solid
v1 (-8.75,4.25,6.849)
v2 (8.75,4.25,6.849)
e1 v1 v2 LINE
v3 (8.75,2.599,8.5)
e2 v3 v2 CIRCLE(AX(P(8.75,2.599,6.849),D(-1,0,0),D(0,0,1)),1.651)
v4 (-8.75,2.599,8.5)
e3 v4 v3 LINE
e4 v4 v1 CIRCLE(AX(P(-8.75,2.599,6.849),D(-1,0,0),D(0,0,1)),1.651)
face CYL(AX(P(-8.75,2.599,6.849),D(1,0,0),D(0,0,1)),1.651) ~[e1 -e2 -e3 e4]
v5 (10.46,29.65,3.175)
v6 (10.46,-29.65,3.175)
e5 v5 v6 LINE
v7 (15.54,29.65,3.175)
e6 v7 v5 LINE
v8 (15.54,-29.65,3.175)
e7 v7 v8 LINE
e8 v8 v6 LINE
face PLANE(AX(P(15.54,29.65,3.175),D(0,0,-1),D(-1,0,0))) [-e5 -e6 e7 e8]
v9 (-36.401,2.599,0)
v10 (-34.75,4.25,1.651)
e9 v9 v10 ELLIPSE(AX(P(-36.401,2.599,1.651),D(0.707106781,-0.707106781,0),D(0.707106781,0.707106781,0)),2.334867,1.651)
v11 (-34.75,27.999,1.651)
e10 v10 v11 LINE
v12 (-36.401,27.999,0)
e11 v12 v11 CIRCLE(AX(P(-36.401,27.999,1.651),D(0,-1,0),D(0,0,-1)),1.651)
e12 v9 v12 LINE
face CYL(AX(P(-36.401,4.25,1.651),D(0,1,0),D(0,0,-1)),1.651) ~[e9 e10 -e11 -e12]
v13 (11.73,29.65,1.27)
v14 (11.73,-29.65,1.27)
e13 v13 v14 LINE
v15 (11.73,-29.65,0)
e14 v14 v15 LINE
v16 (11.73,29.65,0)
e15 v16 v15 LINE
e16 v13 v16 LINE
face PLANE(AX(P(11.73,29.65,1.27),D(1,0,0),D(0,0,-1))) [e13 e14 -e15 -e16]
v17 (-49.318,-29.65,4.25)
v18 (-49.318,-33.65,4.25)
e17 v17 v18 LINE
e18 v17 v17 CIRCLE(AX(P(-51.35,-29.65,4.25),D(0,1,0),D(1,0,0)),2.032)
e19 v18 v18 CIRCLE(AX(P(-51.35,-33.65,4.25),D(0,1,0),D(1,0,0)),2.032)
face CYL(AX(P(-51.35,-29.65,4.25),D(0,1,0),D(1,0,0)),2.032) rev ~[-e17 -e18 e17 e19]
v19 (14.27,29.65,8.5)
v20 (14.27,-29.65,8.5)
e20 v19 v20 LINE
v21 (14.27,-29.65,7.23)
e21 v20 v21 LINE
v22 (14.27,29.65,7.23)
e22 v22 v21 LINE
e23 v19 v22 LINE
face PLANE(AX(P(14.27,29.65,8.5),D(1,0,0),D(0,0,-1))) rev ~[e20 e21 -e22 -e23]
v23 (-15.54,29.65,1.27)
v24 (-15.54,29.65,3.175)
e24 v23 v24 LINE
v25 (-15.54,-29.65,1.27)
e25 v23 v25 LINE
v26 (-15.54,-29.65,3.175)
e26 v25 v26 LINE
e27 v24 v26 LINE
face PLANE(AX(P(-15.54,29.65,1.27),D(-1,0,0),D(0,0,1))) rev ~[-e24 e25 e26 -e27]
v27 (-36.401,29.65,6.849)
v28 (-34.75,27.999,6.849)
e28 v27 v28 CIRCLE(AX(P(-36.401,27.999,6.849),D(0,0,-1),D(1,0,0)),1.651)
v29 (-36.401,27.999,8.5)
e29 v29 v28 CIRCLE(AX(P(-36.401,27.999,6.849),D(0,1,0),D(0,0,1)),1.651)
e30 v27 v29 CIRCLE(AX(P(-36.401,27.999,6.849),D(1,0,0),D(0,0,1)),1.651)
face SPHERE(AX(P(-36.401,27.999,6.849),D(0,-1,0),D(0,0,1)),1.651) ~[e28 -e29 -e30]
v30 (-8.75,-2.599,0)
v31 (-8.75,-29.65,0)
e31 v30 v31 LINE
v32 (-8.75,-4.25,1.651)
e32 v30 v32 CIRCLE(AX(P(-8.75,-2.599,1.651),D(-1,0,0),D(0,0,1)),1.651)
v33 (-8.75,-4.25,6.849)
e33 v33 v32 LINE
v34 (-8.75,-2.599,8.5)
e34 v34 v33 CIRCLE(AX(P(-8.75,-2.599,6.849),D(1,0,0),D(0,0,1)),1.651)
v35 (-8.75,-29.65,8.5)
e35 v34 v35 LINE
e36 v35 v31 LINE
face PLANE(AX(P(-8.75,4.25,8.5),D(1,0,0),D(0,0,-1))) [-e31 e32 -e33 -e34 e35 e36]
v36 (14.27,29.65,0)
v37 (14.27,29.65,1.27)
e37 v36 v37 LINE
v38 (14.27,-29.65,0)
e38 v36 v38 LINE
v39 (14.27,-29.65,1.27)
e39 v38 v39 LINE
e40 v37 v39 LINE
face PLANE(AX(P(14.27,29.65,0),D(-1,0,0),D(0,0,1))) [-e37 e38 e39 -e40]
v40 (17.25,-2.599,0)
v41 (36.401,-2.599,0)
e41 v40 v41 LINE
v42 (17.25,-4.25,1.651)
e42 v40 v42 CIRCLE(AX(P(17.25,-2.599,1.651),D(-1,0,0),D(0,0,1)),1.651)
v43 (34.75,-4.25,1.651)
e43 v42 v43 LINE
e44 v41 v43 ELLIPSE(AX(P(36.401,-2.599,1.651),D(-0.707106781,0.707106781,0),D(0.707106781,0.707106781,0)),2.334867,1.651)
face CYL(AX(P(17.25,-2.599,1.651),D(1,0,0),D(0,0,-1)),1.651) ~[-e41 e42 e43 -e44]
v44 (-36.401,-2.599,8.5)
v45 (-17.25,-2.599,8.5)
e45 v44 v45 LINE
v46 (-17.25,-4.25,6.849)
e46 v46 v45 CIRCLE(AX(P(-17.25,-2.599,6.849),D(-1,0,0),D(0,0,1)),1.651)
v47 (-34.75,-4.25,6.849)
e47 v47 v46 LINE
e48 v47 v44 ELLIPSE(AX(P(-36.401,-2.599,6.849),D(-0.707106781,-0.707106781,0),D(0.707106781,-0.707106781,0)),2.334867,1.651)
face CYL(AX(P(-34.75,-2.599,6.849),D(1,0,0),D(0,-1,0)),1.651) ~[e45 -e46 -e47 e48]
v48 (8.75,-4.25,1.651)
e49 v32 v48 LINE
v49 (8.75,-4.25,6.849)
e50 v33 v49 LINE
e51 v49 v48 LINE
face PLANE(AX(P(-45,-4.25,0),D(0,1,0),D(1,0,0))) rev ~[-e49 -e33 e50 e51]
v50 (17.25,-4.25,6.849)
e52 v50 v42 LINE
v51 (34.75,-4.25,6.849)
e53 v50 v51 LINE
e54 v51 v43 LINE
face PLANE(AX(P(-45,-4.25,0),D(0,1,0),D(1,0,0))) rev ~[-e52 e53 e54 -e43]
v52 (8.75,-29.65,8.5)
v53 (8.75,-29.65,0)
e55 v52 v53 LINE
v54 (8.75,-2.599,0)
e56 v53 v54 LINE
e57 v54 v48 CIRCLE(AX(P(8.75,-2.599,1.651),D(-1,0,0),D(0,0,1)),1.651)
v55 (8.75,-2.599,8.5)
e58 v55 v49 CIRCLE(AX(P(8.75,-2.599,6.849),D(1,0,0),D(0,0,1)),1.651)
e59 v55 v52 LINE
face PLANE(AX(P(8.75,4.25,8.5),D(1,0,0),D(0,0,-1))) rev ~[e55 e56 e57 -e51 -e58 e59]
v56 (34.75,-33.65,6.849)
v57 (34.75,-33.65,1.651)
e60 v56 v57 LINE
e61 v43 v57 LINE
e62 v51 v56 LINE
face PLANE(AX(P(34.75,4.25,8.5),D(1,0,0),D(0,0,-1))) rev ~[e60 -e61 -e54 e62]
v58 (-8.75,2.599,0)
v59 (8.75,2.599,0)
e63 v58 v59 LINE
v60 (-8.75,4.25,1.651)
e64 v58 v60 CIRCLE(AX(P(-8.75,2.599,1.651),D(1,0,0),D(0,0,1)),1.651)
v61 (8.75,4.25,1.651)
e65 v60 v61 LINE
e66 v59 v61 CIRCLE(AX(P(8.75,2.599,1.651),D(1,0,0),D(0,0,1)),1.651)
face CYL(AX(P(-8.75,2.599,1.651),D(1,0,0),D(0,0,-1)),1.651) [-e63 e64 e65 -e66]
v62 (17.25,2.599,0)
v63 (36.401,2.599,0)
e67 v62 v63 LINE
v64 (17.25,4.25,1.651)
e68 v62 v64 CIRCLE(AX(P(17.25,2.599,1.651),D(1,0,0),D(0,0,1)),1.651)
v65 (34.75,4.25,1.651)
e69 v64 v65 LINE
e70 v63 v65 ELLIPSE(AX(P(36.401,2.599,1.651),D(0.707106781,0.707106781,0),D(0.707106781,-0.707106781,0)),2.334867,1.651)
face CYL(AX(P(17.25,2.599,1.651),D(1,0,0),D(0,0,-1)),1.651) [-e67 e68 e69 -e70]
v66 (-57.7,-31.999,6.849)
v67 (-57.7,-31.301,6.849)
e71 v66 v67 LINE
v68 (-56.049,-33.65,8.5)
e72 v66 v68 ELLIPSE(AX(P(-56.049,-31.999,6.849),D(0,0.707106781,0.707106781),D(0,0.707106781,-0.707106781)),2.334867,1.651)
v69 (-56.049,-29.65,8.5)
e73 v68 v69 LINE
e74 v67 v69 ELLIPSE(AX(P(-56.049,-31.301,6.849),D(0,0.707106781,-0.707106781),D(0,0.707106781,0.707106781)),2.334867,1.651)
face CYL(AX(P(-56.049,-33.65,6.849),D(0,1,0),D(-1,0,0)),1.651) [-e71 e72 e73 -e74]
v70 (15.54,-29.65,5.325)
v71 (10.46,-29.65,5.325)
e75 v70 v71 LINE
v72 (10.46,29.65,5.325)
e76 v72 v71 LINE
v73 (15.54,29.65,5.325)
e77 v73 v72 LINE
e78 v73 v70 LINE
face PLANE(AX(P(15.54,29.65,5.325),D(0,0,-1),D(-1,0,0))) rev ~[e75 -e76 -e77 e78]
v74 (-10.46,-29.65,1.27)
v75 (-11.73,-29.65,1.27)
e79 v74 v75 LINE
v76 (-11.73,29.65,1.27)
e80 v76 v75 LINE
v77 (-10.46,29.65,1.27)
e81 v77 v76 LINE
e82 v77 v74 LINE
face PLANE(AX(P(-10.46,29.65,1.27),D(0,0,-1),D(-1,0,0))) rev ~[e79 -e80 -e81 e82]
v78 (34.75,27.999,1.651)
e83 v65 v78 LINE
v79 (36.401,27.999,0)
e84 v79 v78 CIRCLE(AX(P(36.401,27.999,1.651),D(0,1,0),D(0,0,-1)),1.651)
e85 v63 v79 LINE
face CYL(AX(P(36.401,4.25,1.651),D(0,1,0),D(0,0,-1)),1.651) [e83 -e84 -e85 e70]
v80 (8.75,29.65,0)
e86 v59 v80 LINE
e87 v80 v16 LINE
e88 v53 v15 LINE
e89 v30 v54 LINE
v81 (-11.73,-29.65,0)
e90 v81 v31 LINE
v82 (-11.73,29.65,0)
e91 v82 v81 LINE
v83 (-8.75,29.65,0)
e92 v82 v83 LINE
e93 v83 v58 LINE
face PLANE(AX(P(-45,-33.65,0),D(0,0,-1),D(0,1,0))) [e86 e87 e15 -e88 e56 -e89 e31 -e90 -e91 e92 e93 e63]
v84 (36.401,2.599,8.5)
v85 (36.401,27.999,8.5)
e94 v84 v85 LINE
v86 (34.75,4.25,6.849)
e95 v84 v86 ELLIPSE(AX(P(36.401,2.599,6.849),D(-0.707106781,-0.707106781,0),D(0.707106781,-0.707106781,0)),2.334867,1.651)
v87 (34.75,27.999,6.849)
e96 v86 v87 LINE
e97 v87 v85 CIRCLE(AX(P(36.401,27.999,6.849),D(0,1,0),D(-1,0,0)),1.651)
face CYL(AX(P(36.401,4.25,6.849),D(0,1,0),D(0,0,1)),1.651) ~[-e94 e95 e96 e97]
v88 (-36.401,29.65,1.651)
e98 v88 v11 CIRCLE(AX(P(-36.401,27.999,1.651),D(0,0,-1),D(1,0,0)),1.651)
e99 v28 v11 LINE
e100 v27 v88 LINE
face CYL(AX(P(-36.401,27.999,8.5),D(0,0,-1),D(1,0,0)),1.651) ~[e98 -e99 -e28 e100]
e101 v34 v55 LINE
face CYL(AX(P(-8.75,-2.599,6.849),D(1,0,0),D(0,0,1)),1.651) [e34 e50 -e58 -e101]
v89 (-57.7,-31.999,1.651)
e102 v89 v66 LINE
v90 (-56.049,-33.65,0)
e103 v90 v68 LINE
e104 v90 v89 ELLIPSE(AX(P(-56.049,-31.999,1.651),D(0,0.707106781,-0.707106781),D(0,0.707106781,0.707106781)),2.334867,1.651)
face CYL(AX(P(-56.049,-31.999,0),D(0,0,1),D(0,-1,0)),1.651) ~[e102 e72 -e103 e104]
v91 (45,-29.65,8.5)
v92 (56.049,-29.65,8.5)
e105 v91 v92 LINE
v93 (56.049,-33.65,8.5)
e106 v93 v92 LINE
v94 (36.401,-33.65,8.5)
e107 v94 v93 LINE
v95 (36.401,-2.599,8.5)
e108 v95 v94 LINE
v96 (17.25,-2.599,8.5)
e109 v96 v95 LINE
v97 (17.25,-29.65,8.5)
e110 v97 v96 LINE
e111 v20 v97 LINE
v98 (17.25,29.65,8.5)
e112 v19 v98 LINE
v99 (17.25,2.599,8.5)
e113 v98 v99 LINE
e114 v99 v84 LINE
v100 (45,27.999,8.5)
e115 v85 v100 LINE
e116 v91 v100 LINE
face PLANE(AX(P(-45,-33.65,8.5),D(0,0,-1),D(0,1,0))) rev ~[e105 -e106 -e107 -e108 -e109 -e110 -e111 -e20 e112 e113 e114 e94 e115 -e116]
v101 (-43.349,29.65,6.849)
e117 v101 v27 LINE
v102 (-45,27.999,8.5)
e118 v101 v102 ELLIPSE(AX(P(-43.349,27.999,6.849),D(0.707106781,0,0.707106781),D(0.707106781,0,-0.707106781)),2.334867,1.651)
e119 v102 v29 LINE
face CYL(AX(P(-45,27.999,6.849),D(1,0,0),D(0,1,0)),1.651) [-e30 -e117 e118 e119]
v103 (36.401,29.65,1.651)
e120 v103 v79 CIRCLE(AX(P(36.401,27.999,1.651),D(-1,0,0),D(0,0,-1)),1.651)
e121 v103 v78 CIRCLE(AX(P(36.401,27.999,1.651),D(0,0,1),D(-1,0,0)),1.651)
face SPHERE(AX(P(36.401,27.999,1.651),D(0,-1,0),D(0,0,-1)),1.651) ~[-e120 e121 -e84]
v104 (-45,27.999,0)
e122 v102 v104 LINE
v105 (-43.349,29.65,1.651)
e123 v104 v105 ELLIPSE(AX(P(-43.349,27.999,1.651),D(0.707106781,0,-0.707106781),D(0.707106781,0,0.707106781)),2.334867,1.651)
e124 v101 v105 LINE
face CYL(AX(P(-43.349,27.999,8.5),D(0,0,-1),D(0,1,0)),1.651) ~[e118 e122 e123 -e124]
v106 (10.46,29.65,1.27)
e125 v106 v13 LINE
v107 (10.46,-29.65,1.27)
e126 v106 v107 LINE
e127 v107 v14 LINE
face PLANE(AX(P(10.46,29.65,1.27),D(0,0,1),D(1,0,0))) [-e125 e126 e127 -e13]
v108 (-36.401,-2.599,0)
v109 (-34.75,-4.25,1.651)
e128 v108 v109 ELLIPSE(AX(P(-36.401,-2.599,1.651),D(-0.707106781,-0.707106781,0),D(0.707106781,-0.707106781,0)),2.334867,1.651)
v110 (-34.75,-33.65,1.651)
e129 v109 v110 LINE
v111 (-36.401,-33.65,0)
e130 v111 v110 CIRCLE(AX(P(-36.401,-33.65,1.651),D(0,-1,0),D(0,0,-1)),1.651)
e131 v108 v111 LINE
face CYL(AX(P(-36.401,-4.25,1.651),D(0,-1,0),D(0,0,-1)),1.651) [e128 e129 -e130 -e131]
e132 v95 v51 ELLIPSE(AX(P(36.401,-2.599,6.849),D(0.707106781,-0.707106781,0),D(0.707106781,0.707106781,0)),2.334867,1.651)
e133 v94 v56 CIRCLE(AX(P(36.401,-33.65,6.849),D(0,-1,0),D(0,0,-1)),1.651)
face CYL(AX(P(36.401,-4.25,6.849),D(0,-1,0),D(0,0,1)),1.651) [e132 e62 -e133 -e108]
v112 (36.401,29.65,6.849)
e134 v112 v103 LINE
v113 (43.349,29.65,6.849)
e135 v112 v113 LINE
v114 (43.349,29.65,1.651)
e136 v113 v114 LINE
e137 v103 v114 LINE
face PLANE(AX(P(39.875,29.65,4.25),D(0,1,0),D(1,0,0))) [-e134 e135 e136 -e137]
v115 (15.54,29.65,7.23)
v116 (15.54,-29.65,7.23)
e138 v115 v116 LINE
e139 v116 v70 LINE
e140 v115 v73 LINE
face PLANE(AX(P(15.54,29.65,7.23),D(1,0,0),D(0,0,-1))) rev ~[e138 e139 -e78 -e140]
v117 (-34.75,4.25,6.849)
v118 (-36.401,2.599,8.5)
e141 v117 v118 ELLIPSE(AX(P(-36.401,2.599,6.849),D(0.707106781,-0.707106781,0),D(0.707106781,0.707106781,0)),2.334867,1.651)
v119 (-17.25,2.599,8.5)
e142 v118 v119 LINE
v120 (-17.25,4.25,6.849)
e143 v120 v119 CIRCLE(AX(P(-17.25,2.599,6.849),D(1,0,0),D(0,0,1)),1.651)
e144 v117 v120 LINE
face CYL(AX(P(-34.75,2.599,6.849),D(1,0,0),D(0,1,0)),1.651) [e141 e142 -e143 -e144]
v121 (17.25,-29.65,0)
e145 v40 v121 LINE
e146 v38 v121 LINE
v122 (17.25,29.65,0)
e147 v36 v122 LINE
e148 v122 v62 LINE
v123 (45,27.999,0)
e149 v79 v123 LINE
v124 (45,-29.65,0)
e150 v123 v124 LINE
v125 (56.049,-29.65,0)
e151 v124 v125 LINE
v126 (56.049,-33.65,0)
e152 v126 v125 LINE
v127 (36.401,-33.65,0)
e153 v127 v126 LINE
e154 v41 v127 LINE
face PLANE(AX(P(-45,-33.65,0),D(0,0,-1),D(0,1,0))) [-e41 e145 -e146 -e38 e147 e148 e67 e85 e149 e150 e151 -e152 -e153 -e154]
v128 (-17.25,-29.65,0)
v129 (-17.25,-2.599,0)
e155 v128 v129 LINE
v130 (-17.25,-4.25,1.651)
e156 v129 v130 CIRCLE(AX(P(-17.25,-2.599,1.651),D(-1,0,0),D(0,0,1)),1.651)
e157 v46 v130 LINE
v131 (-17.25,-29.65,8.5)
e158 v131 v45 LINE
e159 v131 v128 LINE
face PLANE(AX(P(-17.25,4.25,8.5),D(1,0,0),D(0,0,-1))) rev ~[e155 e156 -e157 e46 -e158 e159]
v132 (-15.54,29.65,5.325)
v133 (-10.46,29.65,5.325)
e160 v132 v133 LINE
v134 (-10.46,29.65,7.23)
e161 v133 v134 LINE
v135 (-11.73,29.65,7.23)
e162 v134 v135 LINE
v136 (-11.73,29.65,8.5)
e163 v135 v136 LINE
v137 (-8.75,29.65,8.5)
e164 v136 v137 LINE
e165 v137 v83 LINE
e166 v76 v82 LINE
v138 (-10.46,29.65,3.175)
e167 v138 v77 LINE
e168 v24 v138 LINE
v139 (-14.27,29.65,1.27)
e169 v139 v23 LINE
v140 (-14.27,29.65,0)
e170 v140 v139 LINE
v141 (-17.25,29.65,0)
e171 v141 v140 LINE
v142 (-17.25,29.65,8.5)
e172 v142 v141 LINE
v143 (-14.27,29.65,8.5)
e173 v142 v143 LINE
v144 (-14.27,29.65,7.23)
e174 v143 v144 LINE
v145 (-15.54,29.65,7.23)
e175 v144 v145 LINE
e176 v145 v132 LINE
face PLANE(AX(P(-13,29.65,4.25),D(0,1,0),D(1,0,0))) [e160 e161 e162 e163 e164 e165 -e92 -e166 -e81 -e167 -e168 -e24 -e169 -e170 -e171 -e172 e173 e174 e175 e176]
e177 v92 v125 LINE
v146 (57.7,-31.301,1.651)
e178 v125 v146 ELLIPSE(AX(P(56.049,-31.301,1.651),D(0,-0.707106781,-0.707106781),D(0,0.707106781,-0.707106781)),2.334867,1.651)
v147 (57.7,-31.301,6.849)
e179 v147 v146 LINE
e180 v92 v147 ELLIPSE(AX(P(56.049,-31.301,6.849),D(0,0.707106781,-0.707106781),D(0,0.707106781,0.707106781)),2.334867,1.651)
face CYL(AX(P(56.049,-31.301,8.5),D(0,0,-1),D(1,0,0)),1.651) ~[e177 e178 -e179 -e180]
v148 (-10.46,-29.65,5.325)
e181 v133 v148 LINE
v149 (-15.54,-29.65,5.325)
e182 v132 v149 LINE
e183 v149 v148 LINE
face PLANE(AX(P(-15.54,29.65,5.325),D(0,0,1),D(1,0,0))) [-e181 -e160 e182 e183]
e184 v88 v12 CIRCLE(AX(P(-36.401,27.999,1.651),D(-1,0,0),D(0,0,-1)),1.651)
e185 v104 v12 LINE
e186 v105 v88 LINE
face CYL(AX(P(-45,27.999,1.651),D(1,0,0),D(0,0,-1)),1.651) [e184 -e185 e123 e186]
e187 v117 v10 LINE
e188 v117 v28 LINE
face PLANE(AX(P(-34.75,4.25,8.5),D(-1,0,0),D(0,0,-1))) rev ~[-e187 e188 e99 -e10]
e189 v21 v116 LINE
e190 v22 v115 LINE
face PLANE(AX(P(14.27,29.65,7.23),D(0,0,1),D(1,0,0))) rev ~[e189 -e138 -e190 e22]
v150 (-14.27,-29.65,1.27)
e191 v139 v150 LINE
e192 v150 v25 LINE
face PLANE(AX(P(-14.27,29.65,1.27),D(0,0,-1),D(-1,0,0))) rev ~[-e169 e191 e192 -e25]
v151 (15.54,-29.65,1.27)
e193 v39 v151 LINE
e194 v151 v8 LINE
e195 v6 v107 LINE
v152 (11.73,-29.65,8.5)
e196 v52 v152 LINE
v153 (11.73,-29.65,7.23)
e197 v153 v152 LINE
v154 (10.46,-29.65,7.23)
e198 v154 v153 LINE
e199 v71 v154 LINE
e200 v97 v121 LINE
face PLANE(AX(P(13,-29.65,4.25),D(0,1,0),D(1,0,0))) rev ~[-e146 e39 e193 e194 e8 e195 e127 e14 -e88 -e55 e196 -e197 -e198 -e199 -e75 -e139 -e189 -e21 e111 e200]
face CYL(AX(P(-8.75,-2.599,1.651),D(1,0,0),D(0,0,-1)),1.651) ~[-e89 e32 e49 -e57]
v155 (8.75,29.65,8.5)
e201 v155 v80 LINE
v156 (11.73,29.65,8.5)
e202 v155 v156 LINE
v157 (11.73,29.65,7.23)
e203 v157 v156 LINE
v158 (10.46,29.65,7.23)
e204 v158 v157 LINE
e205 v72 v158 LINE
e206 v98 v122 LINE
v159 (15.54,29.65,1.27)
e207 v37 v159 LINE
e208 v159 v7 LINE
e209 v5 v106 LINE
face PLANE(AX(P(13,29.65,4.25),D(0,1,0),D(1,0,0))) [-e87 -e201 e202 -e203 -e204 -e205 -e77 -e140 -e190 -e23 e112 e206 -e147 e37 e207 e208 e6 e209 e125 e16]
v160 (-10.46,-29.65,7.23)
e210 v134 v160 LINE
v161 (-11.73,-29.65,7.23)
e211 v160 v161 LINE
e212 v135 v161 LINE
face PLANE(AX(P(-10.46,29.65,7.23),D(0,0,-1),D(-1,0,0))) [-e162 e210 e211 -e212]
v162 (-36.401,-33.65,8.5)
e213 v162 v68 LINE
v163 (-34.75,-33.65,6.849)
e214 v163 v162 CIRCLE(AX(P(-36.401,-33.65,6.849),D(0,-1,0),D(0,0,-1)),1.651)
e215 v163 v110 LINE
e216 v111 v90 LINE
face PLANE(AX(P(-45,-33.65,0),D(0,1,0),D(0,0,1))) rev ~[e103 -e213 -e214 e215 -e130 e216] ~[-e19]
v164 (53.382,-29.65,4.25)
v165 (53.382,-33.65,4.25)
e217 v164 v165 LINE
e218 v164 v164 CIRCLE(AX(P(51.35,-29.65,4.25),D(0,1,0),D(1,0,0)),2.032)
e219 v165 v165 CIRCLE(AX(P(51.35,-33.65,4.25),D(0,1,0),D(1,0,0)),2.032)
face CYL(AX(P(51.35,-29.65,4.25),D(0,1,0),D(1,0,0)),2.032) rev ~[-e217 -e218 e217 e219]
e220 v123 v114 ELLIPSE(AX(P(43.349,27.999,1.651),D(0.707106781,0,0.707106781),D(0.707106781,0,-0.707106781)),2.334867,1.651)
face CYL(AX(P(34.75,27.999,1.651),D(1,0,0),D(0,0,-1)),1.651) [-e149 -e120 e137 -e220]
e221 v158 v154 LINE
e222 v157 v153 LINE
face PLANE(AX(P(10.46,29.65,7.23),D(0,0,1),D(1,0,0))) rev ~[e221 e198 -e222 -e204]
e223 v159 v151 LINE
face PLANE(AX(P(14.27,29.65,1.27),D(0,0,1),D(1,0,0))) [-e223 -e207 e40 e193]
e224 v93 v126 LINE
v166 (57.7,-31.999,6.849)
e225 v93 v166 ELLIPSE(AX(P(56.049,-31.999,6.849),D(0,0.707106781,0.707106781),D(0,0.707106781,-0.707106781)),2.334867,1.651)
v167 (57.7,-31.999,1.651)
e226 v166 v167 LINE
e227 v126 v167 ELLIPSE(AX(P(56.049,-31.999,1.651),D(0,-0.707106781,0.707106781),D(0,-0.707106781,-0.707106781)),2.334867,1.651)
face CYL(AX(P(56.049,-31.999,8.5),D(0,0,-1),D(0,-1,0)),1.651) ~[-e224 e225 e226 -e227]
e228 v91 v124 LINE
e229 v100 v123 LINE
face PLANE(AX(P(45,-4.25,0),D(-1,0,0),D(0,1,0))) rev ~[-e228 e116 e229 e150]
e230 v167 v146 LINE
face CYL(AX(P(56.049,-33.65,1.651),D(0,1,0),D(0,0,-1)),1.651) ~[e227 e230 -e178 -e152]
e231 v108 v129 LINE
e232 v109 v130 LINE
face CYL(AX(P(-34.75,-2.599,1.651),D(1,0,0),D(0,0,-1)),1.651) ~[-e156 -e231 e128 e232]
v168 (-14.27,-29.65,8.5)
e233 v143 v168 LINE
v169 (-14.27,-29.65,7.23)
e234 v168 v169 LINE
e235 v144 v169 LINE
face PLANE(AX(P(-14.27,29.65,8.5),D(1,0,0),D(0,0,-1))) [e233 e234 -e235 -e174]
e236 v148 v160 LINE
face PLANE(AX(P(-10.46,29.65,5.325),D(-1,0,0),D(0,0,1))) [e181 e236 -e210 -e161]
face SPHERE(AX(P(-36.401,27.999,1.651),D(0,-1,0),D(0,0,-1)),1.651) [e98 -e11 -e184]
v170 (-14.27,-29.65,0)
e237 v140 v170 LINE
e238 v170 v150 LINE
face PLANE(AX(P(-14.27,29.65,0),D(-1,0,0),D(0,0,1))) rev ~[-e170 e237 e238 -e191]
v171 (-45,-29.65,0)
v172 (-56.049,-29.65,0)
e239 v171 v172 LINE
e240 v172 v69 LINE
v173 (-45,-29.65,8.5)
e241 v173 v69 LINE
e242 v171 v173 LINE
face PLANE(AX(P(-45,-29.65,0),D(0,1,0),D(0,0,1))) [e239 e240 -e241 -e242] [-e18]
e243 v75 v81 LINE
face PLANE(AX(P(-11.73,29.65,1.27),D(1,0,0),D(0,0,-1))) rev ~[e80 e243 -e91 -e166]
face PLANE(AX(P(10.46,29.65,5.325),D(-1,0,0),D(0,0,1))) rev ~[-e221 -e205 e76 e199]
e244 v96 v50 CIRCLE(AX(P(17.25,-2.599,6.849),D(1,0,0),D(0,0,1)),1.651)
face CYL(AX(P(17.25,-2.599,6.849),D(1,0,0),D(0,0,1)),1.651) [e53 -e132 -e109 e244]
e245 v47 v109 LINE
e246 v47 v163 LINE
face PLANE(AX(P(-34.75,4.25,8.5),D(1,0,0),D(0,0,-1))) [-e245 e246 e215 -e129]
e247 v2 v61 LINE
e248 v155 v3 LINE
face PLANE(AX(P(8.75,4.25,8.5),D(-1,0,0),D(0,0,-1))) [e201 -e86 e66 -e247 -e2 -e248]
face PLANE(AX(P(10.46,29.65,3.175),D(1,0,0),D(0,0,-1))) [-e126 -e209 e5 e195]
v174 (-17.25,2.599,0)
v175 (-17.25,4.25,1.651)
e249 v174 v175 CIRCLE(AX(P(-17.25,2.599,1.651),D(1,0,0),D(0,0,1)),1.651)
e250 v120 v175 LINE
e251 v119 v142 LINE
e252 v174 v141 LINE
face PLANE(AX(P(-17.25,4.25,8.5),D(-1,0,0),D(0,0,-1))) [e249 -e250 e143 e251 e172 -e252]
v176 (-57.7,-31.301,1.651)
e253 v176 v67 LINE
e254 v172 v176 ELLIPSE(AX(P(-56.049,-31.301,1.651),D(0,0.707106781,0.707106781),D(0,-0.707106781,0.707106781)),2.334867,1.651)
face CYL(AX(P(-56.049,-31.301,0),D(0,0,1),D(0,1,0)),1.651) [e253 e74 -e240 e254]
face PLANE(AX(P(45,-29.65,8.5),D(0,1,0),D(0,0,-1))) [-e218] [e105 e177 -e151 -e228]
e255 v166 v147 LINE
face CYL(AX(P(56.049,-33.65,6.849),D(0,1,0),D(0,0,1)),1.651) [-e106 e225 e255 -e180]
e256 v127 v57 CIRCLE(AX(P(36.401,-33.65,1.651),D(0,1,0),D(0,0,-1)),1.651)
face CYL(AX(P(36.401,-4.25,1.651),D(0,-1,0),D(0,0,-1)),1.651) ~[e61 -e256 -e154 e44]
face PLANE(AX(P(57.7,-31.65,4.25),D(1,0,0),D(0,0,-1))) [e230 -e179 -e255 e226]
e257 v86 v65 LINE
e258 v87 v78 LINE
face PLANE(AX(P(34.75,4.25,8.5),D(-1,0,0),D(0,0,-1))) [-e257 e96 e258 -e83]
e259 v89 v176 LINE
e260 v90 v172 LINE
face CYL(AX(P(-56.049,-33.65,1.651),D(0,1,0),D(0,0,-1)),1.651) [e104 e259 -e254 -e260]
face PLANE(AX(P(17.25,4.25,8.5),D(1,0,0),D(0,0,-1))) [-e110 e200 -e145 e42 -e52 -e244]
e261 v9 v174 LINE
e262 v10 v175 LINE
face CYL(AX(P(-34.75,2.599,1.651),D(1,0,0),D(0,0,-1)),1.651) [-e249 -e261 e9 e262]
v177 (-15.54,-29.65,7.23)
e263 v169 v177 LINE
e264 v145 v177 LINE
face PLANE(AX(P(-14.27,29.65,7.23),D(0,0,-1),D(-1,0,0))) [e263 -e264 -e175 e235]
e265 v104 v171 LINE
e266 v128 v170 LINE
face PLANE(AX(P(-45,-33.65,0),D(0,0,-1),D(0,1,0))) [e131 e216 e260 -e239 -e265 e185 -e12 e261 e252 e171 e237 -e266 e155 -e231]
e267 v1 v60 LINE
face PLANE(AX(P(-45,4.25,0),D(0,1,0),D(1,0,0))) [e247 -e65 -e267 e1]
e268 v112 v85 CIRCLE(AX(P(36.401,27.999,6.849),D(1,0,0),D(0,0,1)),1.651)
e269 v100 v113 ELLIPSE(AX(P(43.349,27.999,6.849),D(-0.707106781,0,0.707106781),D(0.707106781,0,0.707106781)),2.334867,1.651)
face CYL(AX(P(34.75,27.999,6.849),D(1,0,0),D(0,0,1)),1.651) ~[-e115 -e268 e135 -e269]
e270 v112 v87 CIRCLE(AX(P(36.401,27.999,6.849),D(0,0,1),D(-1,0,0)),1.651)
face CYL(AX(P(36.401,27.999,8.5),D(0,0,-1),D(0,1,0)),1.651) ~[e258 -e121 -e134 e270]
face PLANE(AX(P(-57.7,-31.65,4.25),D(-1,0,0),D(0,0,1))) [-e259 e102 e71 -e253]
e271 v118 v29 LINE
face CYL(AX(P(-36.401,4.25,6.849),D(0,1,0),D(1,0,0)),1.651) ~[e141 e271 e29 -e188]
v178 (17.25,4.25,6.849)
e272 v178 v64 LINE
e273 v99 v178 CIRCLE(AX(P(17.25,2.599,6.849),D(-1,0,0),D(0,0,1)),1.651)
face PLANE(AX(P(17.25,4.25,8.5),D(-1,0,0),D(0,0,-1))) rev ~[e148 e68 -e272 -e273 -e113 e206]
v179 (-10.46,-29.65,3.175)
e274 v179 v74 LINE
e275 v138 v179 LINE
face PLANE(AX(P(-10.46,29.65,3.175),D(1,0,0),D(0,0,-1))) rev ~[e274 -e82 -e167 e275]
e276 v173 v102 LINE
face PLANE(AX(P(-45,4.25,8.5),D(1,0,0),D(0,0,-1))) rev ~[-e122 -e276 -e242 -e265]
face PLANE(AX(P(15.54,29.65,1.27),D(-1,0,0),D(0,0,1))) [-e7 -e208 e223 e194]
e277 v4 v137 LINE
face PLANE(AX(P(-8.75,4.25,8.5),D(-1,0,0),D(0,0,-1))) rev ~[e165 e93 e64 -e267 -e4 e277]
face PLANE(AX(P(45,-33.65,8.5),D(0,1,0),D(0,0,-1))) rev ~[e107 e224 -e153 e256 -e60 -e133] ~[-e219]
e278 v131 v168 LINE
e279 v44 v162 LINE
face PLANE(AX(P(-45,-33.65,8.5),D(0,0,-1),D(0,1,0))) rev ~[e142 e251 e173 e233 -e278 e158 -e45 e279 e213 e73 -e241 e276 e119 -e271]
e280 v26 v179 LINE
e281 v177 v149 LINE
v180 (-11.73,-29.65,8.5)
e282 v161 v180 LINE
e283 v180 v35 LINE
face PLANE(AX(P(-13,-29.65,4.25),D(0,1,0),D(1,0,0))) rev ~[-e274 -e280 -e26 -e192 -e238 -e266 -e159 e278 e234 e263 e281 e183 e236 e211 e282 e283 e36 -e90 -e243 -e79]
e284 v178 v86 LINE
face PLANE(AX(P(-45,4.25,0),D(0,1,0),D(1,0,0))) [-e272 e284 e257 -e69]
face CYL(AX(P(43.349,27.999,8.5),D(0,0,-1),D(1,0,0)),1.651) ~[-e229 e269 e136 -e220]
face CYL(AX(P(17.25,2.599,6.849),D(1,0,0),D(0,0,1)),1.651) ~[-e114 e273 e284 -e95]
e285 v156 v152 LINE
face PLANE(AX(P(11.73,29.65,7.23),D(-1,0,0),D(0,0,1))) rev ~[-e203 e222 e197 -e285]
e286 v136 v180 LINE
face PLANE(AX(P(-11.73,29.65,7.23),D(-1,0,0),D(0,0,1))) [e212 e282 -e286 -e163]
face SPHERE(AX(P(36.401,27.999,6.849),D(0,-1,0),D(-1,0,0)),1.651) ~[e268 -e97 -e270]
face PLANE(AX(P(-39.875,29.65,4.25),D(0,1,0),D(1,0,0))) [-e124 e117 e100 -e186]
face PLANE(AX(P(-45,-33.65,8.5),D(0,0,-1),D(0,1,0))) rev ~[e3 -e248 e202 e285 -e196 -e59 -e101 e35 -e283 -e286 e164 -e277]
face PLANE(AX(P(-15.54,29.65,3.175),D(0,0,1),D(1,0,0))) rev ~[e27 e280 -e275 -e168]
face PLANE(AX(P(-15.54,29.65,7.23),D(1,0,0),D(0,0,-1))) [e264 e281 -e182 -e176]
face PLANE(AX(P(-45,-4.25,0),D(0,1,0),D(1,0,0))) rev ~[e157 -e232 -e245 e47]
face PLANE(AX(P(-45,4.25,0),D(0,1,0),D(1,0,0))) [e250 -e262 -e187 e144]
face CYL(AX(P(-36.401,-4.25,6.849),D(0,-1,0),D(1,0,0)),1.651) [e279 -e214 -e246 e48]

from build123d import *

# Parameters (mm, degrees)
SKETCH1_W                = 90
SKETCH1_H                = 8.5
BOSS_EXTRUDE1_DEPTH      = 8.5
SKETCH2_W                = 8.5
SKETCH2_H                = 8.5
BOSS_EXTRUDE2_DEPTH      = 25.4
BOSS_EXTRUDE2_DEPTH_BACK = 33.9
SKETCH3_W                = 10.25
SKETCH3_H                = 8.5
BOSS_EXTRUDE3_DEPTH      = 25.4
BOSS_EXTRUDE3_DEPTH_BACK = 37.900000018
SKETCH4_W                = 8.5
SKETCH4_H                = 4
BOSS_EXTRUDE4_DEPTH      = 12.7
SKETCH5_W                = 8.5
SKETCH5_H                = 4
BOSS_EXTRUDE5_DEPTH      = 12.7
SKETCH6_R                = 2.032
CUT_EXTRUDE1_DEPTH       = 12.7
CUT_EXTRUDE2_DEPTH       = 9.906
CUT_EXTRUDE2_DEPTH_BACK  = 73.406
FILLET2_R                = 1.651


with BuildPart() as part:
    # Sketch1 → Boss-Extrude1 (new body)
    with BuildSketch(Plane.XY):
        Rectangle(SKETCH1_W, SKETCH1_H)
    extrude(amount=BOSS_EXTRUDE1_DEPTH)

    # Sketch2 → Boss-Extrude2 (add, two sides)
    with BuildSketch(Plane(origin=(0, 4.25, 0), x_dir=(1, 0, 0), z_dir=(0, 1, 0))) as boss_extrude2_sk:
        with Locations((13, -4.25)):
            Rectangle(SKETCH2_W, SKETCH2_H)
        with Locations((-13, -4.25)):
            Rectangle(SKETCH2_W, SKETCH2_H)
    extrude(amount=BOSS_EXTRUDE2_DEPTH)
    extrude(boss_extrude2_sk.sketch, amount=-BOSS_EXTRUDE2_DEPTH_BACK)

    # Sketch3 → Boss-Extrude3 (add, two sides)
    with BuildSketch(Plane(origin=(0, 4.25, 0), x_dir=(1, 0, 0), z_dir=(0, 1, 0))) as boss_extrude3_sk:
        with Locations((-39.875, -4.25)):
            Rectangle(SKETCH3_W, SKETCH3_H)
        with Locations((39.875, -4.25)):
            Rectangle(SKETCH3_W, SKETCH3_H)
    extrude(amount=BOSS_EXTRUDE3_DEPTH)
    extrude(boss_extrude3_sk.sketch, amount=-BOSS_EXTRUDE3_DEPTH_BACK)

    # Sketch4 → Boss-Extrude4 (add)
    with BuildSketch(Plane(origin=(45, 0, 0), x_dir=(0, 0, -1), z_dir=(1, 0, 0))):
        with Locations((-4.25, -31.650000018)):
            Rectangle(SKETCH4_W, SKETCH4_H)
    extrude(amount=BOSS_EXTRUDE4_DEPTH)

    # Sketch5 → Boss-Extrude5 (add)
    with BuildSketch(Plane.ZY.offset(45)):
        with Locations((4.25, -31.650000018)):
            Rectangle(SKETCH5_W, SKETCH5_H)
    extrude(amount=BOSS_EXTRUDE5_DEPTH)

    # Sketch6 → Cut-Extrude1 (cut)
    with BuildSketch(Plane(origin=(0, -29.650000018, 0), x_dir=(1, 0, 0), z_dir=(0, 1, 0))):
        with Locations((51.35, -4.25)):
            Circle(SKETCH6_R)
        with Locations((-51.35, -4.25)):
            Circle(SKETCH6_R)
    extrude(amount=-CUT_EXTRUDE1_DEPTH, mode=Mode.SUBTRACT)

    # Sketch7 → Cut-Extrude2 (cut, two sides)
    with BuildSketch(Plane(origin=(0, 29.65, 0), x_dir=(1, 0, 0), z_dir=(0, 1, 0))) as cut_extrude2_sk:
        Polygon((14.27, 0), (14.27, -1.27), (15.54, -1.27), (15.54, -3.175), (10.46, -3.175), (10.46, -1.27), (11.73, -1.27), (11.73, 0), align=None)
        Polygon((-11.73, -1.27), (-11.73, 0), (-14.27, 0), (-14.27, -1.27), (-15.54, -1.27), (-15.54, -3.175), (-10.46, -3.175), (-10.46, -1.27), align=None)
        Polygon((-14.27, -8.5), (-14.27, -7.23), (-15.54, -7.23), (-15.54, -5.325), (-10.46, -5.325), (-10.46, -7.23), (-11.73, -7.23), (-11.73, -8.5), align=None)
        Polygon((11.73, -7.23), (11.73, -8.5), (14.27, -8.5), (14.27, -7.23), (15.54, -7.23), (15.54, -5.325), (10.46, -5.325), (10.46, -7.23), align=None)
    extrude(amount=CUT_EXTRUDE2_DEPTH, mode=Mode.SUBTRACT)
    extrude(cut_extrude2_sk.sketch, amount=-CUT_EXTRUDE2_DEPTH_BACK, mode=Mode.SUBTRACT)

    # Fillet2
    fillet2_edges = [part.edges().sort_by_distance(p)[0] for p in [
        (57.7, -31.650000018, 8.5),
        (57.7, -33.650000018, 4.25),
        (57.7, -31.650000018, 0),
        (57.7, -29.650000018, 4.25),
        (-57.7, -31.650000018, 8.5),
        (-57.7, -29.650000018, 4.25),
        (-57.7, -31.650000018, 0),
        (-57.7, -33.650000018, 4.25),
        (26, -4.25, 0),
        (0, 4.25, 0),
        (0, 4.25, 8.5),
        (26, -4.25, 8.5),
        (0, -4.25, 0),
        (-26, 4.25, 0),
        (-26, 4.25, 8.5),
        (0, -4.25, 8.5),
        (-26, -4.25, 0),
        (-26, -4.25, 8.5),
        (-34.75, 16.95, 8.5),
        (-34.75, -18.950000009, 8.5),
        (-34.75, 16.95, 0),
        (-34.75, -18.950000009, 0),
        (-39.875, 29.65, 0),
        (-45, 29.65, 4.25),
        (-39.875, 29.65, 8.5),
        (-34.75, 29.65, 4.25),
        (26, 4.25, 0),
        (26, 4.25, 8.5),
        (34.75, 16.95, 0),
        (34.75, -18.950000009, 0),
        (34.75, 16.95, 8.5),
        (34.75, -18.950000009, 8.5),
        (39.875, 29.65, 0),
        (34.75, 29.65, 4.25),
        (39.875, 29.65, 8.5),
        (45, 29.65, 4.25),
    ]]
    fillet(fillet2_edges, radius=FILLET2_R)


solid = part.part
